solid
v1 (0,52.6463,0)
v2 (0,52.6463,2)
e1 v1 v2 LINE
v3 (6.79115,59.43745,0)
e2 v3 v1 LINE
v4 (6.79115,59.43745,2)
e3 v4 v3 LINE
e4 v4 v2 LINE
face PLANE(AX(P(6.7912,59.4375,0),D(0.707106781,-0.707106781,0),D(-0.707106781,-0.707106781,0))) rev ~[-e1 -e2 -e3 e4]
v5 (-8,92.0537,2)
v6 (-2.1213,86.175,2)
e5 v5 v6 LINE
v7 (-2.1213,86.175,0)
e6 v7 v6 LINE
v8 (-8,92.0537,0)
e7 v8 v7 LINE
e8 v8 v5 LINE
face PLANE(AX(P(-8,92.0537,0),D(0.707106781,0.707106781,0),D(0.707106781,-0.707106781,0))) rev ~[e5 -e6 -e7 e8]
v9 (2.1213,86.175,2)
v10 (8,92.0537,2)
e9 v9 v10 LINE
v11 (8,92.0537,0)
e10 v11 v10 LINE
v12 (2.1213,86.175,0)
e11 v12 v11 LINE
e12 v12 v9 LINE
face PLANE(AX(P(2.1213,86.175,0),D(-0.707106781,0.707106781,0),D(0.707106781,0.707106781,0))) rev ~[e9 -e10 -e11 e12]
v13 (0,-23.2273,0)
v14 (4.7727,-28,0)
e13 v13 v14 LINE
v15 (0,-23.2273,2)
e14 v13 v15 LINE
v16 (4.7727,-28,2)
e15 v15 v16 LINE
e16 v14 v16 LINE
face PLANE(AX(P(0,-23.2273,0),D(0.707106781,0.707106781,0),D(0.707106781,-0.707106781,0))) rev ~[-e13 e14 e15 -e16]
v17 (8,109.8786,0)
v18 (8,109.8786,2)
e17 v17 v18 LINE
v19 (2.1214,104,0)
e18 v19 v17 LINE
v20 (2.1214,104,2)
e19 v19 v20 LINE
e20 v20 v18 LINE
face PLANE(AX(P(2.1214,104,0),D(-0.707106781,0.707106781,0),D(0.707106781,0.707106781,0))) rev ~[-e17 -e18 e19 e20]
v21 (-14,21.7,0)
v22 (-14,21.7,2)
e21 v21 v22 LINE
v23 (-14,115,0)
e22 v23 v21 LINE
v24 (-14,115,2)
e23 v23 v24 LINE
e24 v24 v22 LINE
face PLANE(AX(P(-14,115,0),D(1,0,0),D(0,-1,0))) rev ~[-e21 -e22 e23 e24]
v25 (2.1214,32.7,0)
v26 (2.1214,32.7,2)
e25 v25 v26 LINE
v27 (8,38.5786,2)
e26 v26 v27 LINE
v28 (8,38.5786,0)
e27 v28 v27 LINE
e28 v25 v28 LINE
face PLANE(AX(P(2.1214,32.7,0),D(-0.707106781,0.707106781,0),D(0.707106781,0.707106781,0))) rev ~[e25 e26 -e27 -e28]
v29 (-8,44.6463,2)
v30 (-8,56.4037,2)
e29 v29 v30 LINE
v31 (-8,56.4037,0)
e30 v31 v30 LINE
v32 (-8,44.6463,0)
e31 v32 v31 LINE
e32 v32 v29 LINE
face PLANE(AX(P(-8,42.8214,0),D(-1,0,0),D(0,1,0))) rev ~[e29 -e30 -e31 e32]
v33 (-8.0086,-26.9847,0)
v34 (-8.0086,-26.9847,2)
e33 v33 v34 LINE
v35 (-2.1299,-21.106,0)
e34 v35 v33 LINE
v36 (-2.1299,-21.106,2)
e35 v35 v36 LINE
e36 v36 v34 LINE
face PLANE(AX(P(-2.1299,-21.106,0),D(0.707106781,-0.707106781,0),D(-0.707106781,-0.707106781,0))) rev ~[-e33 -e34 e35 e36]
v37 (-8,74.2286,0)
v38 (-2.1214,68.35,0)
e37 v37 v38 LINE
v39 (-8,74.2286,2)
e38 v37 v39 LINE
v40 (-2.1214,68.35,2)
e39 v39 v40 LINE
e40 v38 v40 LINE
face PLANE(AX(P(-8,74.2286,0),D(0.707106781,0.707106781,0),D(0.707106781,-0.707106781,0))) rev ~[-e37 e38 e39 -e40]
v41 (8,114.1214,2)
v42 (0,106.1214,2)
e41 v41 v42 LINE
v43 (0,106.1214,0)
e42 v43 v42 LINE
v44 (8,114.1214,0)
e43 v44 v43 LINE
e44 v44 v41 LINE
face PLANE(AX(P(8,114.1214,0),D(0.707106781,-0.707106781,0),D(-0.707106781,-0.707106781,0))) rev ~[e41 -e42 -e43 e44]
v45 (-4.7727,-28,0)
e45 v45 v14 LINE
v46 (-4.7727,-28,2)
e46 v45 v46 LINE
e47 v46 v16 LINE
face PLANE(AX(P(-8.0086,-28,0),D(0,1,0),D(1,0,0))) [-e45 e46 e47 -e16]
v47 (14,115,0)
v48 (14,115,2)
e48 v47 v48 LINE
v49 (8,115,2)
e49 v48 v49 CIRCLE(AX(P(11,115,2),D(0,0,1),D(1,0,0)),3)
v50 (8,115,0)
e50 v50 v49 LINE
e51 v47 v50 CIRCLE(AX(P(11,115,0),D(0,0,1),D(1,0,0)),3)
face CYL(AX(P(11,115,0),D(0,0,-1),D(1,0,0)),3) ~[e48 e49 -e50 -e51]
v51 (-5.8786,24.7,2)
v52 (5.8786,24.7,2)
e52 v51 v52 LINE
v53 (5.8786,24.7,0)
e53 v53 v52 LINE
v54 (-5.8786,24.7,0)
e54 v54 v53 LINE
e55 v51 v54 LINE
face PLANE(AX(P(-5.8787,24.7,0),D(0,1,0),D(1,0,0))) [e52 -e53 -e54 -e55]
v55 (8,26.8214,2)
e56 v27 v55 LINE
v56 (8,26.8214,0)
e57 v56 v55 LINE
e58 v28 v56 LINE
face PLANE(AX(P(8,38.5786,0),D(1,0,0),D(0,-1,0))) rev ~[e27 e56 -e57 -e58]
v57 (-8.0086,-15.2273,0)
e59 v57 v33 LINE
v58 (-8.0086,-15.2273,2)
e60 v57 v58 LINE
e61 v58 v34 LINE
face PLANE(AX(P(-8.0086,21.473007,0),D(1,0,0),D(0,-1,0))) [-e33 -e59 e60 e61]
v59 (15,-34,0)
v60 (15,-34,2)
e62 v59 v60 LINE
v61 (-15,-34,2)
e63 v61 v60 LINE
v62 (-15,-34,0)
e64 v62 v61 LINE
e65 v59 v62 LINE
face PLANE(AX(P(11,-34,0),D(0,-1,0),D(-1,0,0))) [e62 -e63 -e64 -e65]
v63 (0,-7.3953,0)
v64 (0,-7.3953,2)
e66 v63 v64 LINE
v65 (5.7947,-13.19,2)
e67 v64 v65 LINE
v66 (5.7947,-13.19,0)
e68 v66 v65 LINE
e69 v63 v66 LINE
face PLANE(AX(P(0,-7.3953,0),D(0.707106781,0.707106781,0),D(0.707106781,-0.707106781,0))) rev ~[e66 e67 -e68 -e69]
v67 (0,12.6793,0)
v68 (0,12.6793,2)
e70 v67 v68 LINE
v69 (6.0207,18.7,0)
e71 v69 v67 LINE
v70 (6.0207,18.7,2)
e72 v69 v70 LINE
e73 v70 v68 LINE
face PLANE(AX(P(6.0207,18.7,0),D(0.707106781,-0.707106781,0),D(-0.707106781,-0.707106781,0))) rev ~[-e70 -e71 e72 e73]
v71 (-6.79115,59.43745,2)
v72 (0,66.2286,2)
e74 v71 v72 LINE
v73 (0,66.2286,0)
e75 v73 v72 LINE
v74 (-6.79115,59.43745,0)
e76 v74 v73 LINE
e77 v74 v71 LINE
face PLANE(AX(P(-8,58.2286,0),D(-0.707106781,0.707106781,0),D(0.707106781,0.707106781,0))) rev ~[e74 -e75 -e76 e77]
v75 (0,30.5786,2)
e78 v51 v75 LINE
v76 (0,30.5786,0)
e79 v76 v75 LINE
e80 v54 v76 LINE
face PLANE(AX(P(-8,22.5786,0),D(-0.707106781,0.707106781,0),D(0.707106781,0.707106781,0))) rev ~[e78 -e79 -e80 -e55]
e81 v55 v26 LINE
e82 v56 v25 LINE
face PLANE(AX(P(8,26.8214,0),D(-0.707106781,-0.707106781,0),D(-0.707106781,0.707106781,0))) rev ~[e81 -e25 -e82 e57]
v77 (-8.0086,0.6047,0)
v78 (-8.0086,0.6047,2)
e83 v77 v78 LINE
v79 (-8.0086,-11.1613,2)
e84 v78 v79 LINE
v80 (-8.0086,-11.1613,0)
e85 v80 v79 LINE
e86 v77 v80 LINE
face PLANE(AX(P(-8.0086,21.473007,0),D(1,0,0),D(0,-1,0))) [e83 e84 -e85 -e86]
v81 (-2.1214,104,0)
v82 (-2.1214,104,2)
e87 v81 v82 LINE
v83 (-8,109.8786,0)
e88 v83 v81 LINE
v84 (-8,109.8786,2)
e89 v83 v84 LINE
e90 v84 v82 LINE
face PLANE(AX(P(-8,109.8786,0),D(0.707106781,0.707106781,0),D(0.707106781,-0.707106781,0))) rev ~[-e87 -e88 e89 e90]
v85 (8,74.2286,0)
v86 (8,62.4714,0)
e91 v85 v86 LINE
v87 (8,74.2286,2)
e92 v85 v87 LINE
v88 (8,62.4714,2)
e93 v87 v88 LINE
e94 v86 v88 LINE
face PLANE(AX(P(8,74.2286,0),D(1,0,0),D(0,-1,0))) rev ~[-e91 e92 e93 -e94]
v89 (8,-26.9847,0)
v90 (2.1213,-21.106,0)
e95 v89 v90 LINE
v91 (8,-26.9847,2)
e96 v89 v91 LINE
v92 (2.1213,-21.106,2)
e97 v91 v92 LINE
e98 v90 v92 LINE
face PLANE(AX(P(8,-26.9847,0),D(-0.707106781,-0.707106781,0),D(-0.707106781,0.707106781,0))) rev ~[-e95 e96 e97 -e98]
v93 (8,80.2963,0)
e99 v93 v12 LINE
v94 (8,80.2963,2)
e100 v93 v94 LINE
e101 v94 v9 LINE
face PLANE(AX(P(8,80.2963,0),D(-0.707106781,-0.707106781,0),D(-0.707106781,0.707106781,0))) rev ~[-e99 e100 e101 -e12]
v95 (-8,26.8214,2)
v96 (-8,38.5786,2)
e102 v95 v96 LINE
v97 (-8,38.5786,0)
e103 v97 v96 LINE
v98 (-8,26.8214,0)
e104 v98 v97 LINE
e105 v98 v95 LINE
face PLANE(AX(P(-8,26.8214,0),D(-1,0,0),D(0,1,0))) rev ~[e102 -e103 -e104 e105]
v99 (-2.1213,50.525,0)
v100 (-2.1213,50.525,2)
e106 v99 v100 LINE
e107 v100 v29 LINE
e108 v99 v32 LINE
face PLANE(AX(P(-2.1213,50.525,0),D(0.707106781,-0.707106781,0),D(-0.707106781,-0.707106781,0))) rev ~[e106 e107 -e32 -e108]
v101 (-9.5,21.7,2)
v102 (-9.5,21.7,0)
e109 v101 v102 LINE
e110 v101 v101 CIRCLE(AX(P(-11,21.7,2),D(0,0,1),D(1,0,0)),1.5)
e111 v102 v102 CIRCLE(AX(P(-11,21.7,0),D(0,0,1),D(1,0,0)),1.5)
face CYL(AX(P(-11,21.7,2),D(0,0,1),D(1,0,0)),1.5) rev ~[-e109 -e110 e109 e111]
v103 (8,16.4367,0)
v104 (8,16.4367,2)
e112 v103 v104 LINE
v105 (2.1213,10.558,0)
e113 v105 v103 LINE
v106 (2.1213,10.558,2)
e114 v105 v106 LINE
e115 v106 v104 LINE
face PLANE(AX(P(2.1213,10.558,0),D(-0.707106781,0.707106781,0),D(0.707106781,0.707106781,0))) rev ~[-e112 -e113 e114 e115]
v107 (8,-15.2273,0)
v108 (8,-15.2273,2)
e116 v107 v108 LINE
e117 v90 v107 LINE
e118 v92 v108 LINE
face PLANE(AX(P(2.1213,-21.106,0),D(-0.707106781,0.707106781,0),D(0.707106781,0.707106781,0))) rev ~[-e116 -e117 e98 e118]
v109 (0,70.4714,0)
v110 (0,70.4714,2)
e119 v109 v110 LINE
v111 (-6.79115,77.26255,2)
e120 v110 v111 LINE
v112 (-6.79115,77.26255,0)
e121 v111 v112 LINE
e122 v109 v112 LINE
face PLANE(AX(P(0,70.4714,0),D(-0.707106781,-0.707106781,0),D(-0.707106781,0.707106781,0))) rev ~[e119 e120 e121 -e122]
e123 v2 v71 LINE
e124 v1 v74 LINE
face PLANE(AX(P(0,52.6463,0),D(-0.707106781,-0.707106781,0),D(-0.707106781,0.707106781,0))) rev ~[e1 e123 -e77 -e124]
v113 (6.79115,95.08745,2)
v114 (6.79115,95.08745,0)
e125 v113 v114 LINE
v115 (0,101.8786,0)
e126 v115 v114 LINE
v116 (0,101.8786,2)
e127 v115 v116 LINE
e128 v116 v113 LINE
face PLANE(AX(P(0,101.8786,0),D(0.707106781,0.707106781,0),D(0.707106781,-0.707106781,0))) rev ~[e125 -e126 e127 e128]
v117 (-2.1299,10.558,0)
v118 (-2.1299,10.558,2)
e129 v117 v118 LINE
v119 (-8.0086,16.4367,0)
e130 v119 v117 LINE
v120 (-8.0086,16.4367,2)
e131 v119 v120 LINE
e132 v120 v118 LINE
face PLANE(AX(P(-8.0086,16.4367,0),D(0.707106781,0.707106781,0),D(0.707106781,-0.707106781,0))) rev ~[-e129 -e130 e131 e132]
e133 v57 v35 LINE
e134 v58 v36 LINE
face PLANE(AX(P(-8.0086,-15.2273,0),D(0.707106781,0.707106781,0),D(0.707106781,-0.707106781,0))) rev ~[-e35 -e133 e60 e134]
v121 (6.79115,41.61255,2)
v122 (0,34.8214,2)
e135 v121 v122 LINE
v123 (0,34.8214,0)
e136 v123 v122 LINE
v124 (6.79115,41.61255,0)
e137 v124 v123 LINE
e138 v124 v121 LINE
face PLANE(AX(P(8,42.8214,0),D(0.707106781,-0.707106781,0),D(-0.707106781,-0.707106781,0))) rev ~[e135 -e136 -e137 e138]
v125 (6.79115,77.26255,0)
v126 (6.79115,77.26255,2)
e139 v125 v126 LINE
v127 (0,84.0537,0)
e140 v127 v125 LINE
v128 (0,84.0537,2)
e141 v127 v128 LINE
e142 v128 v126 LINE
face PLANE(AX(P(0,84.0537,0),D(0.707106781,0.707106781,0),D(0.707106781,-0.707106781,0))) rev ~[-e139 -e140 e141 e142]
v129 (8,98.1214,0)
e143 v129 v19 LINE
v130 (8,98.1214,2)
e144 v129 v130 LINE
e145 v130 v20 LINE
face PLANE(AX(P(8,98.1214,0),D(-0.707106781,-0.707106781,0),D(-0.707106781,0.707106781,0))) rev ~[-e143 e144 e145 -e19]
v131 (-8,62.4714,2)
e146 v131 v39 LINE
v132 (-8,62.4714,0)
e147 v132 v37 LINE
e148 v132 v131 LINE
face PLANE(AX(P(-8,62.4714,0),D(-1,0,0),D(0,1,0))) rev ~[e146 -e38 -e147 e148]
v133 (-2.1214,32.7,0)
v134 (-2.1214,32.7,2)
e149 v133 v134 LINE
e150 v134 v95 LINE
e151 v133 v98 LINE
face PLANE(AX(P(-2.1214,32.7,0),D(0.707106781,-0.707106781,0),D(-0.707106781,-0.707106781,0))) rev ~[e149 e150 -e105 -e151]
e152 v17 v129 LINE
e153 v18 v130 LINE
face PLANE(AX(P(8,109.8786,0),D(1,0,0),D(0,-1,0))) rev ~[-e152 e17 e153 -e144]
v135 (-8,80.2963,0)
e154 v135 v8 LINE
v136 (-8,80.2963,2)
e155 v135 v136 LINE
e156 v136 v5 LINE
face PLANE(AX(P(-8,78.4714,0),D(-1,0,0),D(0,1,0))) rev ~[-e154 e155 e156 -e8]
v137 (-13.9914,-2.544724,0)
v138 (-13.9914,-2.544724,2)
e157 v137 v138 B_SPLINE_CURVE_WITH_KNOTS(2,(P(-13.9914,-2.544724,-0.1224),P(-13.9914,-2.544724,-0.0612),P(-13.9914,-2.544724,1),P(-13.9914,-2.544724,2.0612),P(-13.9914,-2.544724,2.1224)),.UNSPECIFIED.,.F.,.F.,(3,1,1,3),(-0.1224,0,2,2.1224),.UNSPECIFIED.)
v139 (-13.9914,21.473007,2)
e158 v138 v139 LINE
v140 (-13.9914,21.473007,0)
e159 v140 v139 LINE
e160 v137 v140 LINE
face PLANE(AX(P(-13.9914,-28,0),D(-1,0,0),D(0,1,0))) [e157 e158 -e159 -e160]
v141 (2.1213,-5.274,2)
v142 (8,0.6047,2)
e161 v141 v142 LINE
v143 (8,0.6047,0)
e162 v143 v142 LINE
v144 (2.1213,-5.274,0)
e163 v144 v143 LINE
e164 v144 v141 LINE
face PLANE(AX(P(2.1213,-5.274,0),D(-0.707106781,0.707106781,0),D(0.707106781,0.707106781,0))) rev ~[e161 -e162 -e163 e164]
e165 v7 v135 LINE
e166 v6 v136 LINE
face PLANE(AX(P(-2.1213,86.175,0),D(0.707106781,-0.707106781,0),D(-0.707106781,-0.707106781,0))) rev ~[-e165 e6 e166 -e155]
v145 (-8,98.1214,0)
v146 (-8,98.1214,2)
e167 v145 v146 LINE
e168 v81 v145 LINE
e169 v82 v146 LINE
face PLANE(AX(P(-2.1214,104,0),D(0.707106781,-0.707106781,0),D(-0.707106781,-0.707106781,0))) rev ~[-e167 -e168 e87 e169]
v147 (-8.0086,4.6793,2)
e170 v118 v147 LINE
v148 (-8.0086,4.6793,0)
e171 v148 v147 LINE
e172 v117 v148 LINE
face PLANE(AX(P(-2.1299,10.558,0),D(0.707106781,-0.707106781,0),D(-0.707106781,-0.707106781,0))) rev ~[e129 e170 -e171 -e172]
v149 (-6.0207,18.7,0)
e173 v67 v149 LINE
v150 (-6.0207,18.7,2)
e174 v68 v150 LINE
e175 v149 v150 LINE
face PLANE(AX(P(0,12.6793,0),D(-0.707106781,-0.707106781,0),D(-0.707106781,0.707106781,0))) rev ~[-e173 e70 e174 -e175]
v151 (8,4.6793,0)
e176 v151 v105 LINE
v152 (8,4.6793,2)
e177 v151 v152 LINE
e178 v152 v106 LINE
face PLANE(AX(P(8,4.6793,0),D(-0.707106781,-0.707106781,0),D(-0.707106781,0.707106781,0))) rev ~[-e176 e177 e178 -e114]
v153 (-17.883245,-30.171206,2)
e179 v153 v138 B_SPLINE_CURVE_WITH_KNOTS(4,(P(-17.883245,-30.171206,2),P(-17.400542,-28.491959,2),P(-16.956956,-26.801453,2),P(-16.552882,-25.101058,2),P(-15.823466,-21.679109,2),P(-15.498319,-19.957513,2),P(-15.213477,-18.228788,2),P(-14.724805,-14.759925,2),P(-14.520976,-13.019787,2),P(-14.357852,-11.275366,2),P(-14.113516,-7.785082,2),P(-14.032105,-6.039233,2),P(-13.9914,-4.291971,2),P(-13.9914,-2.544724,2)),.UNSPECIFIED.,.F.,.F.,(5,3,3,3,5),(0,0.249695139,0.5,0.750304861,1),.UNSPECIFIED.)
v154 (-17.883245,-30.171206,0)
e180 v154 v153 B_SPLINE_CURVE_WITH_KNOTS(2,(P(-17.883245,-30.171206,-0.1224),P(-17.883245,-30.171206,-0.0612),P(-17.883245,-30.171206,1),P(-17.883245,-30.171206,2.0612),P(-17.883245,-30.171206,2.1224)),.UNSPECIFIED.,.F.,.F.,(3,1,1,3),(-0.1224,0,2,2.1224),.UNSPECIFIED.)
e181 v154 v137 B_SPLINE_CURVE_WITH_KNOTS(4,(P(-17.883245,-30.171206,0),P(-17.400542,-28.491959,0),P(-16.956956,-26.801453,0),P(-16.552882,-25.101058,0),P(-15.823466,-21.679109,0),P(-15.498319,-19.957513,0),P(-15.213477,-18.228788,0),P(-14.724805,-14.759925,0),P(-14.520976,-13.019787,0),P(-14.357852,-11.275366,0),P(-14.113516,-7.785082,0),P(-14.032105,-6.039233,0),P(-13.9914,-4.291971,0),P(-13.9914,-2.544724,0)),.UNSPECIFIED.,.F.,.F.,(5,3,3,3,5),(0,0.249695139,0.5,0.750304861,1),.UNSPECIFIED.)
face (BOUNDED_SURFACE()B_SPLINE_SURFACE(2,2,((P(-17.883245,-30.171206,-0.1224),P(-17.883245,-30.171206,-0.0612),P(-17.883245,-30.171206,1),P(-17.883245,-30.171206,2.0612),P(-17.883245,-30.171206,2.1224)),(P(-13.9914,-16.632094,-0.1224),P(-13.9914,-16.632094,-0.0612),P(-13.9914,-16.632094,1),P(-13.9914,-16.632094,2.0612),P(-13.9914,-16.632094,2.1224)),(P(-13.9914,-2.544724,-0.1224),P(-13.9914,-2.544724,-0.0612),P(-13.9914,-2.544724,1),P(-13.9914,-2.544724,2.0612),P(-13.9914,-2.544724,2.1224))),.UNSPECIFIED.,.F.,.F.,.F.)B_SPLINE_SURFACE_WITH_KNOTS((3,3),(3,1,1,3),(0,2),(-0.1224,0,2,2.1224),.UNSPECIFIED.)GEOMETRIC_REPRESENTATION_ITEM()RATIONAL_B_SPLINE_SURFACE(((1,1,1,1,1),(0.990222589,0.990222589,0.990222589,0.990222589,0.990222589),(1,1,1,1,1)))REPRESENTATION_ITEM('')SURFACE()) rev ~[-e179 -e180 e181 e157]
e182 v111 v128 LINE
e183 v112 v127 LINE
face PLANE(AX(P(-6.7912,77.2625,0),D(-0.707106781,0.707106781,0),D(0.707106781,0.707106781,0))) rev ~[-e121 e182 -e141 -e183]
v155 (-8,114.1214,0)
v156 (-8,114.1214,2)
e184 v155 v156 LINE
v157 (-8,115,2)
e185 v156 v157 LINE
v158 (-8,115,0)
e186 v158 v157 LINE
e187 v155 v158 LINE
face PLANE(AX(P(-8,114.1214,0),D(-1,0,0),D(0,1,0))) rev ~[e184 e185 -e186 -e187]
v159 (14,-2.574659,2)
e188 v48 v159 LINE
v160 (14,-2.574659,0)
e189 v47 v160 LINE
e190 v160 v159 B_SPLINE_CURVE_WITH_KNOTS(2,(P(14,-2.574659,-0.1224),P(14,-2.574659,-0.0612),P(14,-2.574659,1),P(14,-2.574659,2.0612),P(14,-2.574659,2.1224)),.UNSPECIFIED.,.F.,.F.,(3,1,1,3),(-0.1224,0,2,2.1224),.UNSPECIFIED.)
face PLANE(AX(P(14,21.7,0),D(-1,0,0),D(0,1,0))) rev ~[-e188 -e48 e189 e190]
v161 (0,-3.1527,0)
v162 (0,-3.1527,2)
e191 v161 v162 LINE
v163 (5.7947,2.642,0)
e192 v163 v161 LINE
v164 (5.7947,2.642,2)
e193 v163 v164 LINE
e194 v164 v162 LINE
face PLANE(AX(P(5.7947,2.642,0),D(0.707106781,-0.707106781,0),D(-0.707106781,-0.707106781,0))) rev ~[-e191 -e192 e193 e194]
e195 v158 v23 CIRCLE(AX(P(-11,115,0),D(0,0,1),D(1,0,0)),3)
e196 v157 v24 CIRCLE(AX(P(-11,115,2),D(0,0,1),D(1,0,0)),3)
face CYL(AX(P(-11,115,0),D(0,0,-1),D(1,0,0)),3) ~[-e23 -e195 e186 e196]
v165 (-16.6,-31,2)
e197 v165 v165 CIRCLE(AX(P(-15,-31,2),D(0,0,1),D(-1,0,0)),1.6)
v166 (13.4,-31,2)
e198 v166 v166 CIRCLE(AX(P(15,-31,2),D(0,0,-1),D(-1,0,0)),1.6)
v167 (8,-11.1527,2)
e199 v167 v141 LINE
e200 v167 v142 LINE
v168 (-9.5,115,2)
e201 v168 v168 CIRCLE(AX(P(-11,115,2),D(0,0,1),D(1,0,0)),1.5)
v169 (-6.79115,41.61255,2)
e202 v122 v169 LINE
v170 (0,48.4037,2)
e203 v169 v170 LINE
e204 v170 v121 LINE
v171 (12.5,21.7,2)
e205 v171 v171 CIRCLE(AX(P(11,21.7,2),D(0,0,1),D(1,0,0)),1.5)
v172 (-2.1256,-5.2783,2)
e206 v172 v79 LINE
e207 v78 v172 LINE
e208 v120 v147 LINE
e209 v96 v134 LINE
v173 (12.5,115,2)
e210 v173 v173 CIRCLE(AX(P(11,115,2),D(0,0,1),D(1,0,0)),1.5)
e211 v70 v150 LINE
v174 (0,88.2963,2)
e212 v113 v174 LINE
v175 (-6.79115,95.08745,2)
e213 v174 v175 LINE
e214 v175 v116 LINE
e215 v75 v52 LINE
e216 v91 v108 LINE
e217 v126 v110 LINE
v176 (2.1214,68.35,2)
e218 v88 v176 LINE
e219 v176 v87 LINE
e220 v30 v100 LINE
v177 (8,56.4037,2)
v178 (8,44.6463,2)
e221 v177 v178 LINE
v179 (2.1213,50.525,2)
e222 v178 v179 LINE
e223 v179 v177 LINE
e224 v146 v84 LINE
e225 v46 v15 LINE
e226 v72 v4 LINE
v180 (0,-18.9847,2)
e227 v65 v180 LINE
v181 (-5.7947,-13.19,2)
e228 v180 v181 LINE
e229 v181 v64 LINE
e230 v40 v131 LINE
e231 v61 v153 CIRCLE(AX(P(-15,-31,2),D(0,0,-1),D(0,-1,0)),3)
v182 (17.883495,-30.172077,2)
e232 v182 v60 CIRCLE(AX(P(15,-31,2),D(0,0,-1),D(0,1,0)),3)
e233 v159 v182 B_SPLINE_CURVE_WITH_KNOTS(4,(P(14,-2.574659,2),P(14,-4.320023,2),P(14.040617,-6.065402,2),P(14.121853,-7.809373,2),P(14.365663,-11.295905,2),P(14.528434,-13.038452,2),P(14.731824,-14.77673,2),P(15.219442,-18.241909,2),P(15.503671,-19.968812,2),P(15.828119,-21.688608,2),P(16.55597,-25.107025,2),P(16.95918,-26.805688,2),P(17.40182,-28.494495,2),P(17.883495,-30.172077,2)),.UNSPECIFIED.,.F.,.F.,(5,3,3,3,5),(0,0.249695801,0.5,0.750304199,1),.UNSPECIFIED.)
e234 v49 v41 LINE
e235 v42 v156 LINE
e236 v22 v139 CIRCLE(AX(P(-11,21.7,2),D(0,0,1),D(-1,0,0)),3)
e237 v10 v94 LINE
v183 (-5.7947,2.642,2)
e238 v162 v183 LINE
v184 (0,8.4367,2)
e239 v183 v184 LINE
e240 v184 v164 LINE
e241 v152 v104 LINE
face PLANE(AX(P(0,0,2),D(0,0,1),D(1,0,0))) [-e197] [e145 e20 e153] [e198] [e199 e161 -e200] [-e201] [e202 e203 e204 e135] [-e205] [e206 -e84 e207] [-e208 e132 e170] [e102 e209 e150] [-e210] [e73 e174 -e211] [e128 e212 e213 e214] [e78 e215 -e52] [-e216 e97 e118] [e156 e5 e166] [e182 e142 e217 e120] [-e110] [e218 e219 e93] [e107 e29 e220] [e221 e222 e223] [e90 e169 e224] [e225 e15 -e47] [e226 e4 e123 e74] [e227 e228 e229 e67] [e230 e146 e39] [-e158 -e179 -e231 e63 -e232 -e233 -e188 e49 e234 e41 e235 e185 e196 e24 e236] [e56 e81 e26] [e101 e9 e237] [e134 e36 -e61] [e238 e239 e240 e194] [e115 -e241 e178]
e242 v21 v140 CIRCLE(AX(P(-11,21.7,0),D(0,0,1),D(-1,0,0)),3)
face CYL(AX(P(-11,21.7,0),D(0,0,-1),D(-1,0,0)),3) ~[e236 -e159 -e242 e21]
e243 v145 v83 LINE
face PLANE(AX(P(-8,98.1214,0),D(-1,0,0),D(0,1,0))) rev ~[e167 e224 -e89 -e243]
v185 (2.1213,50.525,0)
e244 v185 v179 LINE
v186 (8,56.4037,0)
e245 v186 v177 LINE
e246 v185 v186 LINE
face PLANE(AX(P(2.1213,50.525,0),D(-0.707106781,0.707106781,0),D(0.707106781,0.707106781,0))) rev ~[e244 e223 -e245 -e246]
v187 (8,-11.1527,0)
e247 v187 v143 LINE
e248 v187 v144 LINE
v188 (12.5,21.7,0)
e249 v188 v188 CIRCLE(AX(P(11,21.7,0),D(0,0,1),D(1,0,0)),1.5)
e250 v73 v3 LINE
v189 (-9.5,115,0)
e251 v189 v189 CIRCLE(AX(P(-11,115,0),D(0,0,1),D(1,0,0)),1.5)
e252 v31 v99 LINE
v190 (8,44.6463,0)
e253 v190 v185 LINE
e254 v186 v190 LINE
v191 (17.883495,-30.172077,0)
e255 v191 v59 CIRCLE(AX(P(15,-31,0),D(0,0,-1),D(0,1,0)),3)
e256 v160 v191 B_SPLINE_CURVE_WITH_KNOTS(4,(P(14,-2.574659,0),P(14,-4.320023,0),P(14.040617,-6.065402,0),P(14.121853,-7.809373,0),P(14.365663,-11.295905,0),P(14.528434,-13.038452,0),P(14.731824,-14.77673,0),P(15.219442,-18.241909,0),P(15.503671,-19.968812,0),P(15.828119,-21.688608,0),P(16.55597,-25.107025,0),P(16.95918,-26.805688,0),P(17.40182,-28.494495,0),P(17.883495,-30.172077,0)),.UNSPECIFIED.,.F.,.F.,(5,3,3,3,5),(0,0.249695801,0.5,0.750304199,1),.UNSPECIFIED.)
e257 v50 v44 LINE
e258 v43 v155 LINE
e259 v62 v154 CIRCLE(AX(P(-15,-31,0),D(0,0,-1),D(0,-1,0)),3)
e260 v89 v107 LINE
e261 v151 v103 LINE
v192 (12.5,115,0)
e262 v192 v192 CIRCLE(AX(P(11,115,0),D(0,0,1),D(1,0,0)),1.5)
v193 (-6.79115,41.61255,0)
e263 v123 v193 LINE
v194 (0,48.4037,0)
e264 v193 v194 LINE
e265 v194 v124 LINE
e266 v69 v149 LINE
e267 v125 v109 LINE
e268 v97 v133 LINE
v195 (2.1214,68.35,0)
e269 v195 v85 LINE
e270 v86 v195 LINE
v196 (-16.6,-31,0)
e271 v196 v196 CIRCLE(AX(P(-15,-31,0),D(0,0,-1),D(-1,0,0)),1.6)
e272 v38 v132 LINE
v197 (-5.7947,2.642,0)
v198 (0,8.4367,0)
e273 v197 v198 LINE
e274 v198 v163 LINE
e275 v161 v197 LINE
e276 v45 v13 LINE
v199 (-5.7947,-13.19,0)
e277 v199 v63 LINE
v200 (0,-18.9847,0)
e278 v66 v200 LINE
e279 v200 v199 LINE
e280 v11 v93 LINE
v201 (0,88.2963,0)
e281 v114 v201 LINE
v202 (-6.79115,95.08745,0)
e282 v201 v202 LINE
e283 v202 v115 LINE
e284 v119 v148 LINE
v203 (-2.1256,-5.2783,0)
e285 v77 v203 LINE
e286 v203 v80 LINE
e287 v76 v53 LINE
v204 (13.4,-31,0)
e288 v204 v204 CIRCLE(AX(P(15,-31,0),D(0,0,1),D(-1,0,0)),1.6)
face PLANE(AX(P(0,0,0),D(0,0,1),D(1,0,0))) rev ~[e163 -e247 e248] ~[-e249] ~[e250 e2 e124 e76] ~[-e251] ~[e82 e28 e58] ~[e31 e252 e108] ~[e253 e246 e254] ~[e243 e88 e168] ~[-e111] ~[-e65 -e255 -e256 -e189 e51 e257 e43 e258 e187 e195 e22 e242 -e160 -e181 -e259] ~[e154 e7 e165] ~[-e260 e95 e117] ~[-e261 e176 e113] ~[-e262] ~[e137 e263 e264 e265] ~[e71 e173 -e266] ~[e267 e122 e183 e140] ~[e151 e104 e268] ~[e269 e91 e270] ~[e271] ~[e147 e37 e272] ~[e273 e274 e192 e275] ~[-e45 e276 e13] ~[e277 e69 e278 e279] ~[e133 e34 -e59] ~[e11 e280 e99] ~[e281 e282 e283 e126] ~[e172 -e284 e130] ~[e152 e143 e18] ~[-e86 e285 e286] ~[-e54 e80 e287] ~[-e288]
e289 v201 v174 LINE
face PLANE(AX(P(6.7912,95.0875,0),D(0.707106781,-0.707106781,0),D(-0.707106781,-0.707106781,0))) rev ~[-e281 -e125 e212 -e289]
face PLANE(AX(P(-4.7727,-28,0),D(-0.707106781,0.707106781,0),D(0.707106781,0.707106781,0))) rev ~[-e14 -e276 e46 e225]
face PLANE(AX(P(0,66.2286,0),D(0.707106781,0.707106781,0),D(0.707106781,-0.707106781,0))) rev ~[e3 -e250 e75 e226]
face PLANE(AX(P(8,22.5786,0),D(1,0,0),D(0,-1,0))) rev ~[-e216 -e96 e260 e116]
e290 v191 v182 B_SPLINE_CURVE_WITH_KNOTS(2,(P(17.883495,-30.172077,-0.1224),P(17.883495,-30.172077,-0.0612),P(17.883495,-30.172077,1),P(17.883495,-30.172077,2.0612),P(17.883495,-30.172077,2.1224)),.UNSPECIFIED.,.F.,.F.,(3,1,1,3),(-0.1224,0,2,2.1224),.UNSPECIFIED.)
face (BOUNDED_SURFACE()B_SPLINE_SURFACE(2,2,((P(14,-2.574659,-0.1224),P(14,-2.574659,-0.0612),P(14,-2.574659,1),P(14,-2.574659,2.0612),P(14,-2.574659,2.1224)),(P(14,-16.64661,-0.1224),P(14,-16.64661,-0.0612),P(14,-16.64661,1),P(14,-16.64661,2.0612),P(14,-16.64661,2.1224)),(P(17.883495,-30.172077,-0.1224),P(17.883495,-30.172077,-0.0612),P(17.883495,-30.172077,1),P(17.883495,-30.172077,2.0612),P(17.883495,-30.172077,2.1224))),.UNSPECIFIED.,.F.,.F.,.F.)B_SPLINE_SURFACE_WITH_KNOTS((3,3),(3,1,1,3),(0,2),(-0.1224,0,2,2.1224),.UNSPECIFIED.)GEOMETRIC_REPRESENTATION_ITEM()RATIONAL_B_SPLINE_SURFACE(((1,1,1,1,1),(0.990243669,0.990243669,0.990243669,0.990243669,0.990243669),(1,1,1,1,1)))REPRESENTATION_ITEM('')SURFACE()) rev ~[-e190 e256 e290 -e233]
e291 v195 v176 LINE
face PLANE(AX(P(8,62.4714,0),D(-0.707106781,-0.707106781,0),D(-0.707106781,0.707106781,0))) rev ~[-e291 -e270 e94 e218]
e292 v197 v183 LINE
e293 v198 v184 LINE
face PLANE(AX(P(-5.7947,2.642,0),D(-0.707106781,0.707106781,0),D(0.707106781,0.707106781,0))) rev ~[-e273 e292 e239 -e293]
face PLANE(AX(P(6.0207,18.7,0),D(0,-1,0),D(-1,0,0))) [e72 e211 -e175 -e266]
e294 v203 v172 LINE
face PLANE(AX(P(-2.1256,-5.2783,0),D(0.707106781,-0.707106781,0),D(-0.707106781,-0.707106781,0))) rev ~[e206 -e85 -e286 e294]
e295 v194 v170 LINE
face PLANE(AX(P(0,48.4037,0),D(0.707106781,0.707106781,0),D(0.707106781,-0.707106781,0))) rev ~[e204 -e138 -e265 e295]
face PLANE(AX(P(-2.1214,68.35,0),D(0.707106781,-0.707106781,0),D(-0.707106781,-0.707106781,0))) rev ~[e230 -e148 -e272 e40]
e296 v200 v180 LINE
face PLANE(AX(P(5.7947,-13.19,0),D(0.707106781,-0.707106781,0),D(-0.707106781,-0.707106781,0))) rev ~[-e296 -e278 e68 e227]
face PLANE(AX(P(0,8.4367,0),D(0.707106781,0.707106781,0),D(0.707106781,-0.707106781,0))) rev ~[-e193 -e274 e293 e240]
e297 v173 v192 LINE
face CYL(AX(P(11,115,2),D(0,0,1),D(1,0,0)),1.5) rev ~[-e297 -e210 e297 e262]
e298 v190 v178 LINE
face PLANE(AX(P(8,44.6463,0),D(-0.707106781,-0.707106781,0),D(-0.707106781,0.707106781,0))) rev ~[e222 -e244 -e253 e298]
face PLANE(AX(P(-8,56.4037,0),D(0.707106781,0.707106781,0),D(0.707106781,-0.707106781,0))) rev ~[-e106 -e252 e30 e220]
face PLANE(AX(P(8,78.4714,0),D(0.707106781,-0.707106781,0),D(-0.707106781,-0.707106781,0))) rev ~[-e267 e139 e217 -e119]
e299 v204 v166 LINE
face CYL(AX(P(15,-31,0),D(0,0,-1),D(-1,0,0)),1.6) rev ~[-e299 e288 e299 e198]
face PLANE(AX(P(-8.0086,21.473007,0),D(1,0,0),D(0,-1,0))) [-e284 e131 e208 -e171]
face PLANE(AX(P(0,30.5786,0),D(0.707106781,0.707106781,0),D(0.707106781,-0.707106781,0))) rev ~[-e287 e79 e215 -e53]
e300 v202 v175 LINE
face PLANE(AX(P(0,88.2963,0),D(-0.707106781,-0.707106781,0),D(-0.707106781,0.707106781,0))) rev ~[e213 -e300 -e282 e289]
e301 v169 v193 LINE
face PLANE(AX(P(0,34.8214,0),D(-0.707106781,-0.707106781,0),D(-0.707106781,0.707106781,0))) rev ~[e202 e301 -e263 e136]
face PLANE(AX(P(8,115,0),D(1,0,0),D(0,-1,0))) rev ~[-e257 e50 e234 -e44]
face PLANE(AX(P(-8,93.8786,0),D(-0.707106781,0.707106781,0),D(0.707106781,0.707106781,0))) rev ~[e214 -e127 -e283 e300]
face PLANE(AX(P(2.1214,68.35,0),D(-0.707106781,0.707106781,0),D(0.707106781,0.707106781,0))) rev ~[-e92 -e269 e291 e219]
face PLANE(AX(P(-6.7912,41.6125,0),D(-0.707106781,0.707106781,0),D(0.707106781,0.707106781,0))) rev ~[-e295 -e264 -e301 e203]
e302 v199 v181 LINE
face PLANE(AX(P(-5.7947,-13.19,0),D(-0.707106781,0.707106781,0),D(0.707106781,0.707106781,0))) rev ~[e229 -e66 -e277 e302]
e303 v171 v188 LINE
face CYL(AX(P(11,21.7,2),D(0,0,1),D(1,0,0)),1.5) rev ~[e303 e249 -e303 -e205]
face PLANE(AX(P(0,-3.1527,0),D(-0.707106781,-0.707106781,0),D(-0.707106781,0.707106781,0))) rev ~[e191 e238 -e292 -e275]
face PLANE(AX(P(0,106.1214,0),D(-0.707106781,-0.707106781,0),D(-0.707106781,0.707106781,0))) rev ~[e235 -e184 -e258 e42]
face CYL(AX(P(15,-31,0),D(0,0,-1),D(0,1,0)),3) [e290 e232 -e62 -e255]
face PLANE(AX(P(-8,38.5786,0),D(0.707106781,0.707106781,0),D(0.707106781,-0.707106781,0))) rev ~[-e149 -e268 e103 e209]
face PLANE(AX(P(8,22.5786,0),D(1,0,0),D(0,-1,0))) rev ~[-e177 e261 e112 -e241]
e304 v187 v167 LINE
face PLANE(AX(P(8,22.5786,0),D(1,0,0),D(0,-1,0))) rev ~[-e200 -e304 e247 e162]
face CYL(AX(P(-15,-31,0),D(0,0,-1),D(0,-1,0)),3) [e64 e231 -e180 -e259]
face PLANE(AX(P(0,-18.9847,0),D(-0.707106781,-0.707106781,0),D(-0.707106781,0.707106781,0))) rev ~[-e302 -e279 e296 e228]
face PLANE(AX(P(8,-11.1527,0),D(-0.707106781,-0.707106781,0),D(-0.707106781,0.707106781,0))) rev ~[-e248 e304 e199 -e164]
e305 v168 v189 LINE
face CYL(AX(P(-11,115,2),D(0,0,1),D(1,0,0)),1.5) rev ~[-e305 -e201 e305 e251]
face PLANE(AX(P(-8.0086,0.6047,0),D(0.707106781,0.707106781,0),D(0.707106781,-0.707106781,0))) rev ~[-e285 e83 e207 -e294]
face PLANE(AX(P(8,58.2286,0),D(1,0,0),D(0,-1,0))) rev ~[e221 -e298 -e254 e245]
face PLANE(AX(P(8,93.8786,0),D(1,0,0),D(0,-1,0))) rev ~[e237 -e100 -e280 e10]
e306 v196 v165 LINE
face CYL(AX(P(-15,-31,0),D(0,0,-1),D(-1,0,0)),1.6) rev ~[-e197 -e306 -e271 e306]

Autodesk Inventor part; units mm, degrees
ref_plane "YZ Plane" through (0, 0, 0) normal (1, 0, 0) x (0, 1, 0)
ref_plane "XZ Plane" through (0, 0, 0) normal (0, 1, 0) x (-1, 0, 0)
ref_plane "XY Plane" through (0, 0, 0) normal (0, 0, 1) x (1, 0, 0)
sketch "Szkic1" plane through (0, 0, 0) normal (0, 0, 1) x (1, 0, 0)
  circle A0 centre (11, 115) radius 1.55 projected
  circle A1 centre (-11, 115) radius 1.55 projected
  circle A2 centre (11, 21.7) radius 1.55 projected
  circle A3 centre (-11, 21.7) radius 1.55 projected
  line L0 (11, 115) -> (11, 21.7) construction
  line L1 (8, 115) -> (8, 21.7)
  line L2 (14, 21.7) -> (14, 115)
  arc A4 (14, 115) -> (8, 115) centre (11, 115) ccw
  arc A5 (8, 21.7) -> (14, 21.7) centre (11, 21.7) ccw
  line L3 (-11, 115) -> (-11, 21.7) construction
  line L4 (-14, 115) -> (-14, 21.7)
  line L5 (-8, 21.7) -> (-8, 115)
  arc A6 (-8, 115) -> (-14, 115) centre (-11, 115) ccw
  arc A7 (-14, 21.7) -> (-8, 21.7) centre (-11, 21.7) ccw
  line L6 (11, 115) -> (-11, 93)
  line L7 (-11, 21.7) -> (11, 43.7)
  line L8 (-11, 21.7) -> (11, 43.7) construction
  line L9 (-9.9393, 20.6393) -> (12.0607, 42.6393)
  line L10 (9.9393, 44.7607) -> (-12.0607, 22.7607)
  arc A8 (-12.0607, 22.7607) -> (-9.9393, 20.6393) centre (-11, 21.7) ccw
  arc A9 (12.0607, 42.6393) -> (9.9393, 44.7607) centre (11, 43.7) ccw
  line L11 (11, 115) -> (-11, 93) construction
  line L12 (9.9393, 116.0607) -> (-12.0607, 94.0607)
  line L13 (-9.9393, 91.9393) -> (12.0607, 113.9393)
  arc A10 (12.0607, 113.9393) -> (9.9393, 116.0607) centre (11, 115) ccw
  arc A11 (-12.0607, 94.0607) -> (-9.9393, 91.9393) centre (-11, 93) ccw
  line L14 (0, 68.35) -> (-11, 57.35)
  line L15 (0, 68.35) -> (11.1005, 79.4505)
  line L16 (-11, 79.35) -> (11, 57.35)
  line L17 (11, 79.35) -> (-11, 57.35) construction
  line L18 (-11, 79.35) -> (11, 57.35) construction
  line L19 (-11, 115) -> (11, 93) construction
  line L20 (-12.0607, 113.9393) -> (9.9393, 91.9393)
  line L21 (12.0607, 94.0607) -> (-9.9393, 116.0607)
  arc A12 (-9.9393, 116.0607) -> (-12.0607, 113.9393) centre (-11, 115) ccw
  arc A13 (9.9393, 91.9393) -> (12.0607, 94.0607) centre (11, 93) ccw
  line L22 (11, 21.7) -> (-11, 43.7) construction
  line L23 (12.0607, 22.7607) -> (-9.9393, 44.7607)
  line L24 (-12.0607, 42.6393) -> (9.9393, 20.6393)
  arc A14 (9.9393, 20.6393) -> (12.0607, 22.7607) centre (11, 21.7) ccw
  arc A15 (-9.9393, 44.7607) -> (-12.0607, 42.6393) centre (-11, 43.7) ccw
  line L25 (11, 79.35) -> (-11, 57.35) construction
  line L26 (9.9393, 80.4107) -> (-12.0607, 58.4107)
  line L27 (-9.9393, 56.2893) -> (12.0607, 78.2893)
  arc A16 (12.0607, 78.2893) -> (9.9393, 80.4107) centre (11, 79.35) ccw
  arc A17 (-12.0607, 58.4107) -> (-9.9393, 56.2893) centre (-11, 57.35) ccw
  line L28 (-11, 79.35) -> (11, 57.35) construction
  line L29 (-12.0607, 78.2893) -> (9.9393, 56.2893)
  line L30 (12.0607, 58.4107) -> (-9.9393, 80.4107)
  arc A18 (-9.9393, 80.4107) -> (-12.0607, 78.2893) centre (-11, 79.35) ccw
  arc A19 (9.9393, 56.2893) -> (12.0607, 58.4107) centre (11, 57.35) ccw
  point P0 (0, 0)
  point P1 (11, 68.35)
  point P2 (-11, 68.35)
  point P3 (0, 32.7)
  point P4 (0, 104)
  point P5 (0, 104)
  point P6 (0, 32.7)
  point P7 (0, 68.35)
  point P8 (0, 68.35)
  point P9 (-8, 93.8787)
  point P10 (-8, 98.1213)
  point P11 (8, 42.8213)
  point P12 (8, 38.5787)
  point P13 (-8, 26.8213)
  point P14 (8, 109.8787)
  point P15 (-8.8787, 19.5787)
  point P16 (8.8787, 117.1213)
  point P17 (0, 104)
  point P18 (0, 32.7)
  point P19 (0, 68.35)
  point P20 (0, 68.35)
  point P21 (-8, 22.5787)
  point P22 (8, 114.1213)
  point P23 (0, 30.5787)
  point P24 (8, 22.5787)
  point P25 (0, 106.1213)
  point P26 (-8, 114.1213)
  point P27 (8, 98.1213)
  point P28 (2.1213, 104)
  point P29 (-8, 109.8787)
  point P30 (-2.1213, 104)
  point P31 (-2.1213, 68.35)
  point P32 (-8, 62.4713)
  point P33 (-8, 74.2287)
  point P34 (2.1213, 68.35)
  point P35 (8, 74.2287)
  point P36 (8, 62.4713)
  point P37 (0, 34.8213)
  point P38 (-8, 42.8213)
  point P39 (-8, 58.2287)
  point P40 (0, 66.2287)
  point P41 (8, 58.2287)
  point P42 (8, 26.8213)
  point P43 (2.1213, 32.7)
  point P44 (0, 101.8787)
  point P45 (8, 93.8787)
  point P46 (8, 78.4713)
  point P47 (0, 70.4713)
  point P48 (-8, 78.4713)
  point P49 (-8, 38.5787)
  point P50 (-2.1213, 32.7)
  dimension "d1" = 6
  dimension "d2" = 45
  dimension "d3" = 45
  dimension "d4" = 45
  dimension "d5" = 45
  dimension "d8" = 3
  dimension "d9" = 3
  dimension "d10" = 3
  dimension "d11" = 3
  dimension "d13" = 3
  dimension "d14" = 3
extrude "Wyciągnięcie proste2" add sketch "Szkic1" along normal blind 2 contours A0 L13 A10 L12 | A0 L12 L1 A4 L2 A5 L24 A2 L23 L9 A9 L10 L29 A19 L30 L27 A16 L26 L20 A13 L21 L13 | L12 A10 L13 A0 | A0 L6 L1 L12 | L13 L1 L6 A0 | L1 L6 L21 L12 | L13 L21 L6 L1 | L21 L6 L20 L12 | L12 L20 L5 L21 | L21 A13 L20 L1 | L1 L20 L13 L21 | L13 L20 L6 L21 | L20 L6 L5 L12 | L21 A1 L20 L5 L12 A11 L13 L30 A18 L29 L26 A17 L27 L23 A15 L24 L10 A3 L9 A7 L4 A6 | L5 L20 A1 L21 | L13 L5 L6 L20 | L5 L13 A11 L12 | L21 A12 L20 A1 | A1 L20 A12 L21 | L26 A16 L27 L1 | L1 L15 L30 L26 | L1 L27 L30 L15 | L30 L15 L16 L26 | L26 L16 L5 L30 | L5 L29 A18 L30 | L24 L9 L23 L1 | L1 L23 A2 L24 | L30 L27 L16 L15 | L26 L29 L5 L16 | L16 L14 L29 L26 | L24 L7 L23 L9 | L9 L5 L7 L24 | L24 A14 L23 A2 | A2 L23 A14 L24 | L30 A19 L29 L1 | L1 L16 L27 L30 | L16 L27 L29 L14 | L29 L14 L5 L26 | L9 L23 L7 L1 | L1 L10 A9 L9 | L9 A3 L7 L5 | L24 L10 L23 L7 | L7 L5 L10 L24 | L1 L29 L27 L16 | L29 L27 L5 L14 | L5 L27 A17 L26 | L7 L23 L10 L1 | L7 A3 L10 L5 | L9 A8 L10 A3 | A3 L10 A8 L9 | L24 L5 L23 L10 | L24 A15 L23 L5
sketch "Szkic2" plane through (0, 0, 2) normal (0, 0, 1) x (1, 0, 0)
  line L0 (0, 30.5787) -> (8, 22.5787) projected
  line L1 (8, 22.5787) -> (8, 21.7) projected
  arc A0 (8, 21.7) -> (14, 21.7) centre (11, 21.7) ccw projected
  line L2 (14, 21.7) -> (14, 115) projected
  arc A1 (14, 115) -> (8, 115) centre (11, 115) ccw projected
  line L3 (8, 115) -> (8, 114.1213) projected
  line L4 (8, 114.1213) -> (0, 106.1213) projected
  line L5 (0, 106.1213) -> (-8, 114.1213) projected
  line L6 (-8, 114.1213) -> (-8, 115) projected
  arc A2 (-8, 115) -> (-14, 115) centre (-11, 115) ccw projected
  line L7 (-14, 115) -> (-14, 21.7) projected
  arc A3 (-14, 21.7) -> (-8, 21.7) centre (-11, 21.7) ccw projected
  line L8 (-8, 21.7) -> (-8, 22.5787) projected
  line L9 (-8, 22.5787) -> (0, 30.5787) projected
  line L10 (8, 109.8787) -> (8, 98.1213) projected
  line L11 (8, 98.1213) -> (2.1213, 104) projected
  line L12 (2.1213, 104) -> (8, 109.8787) projected
  line L13 (-8, 109.8787) -> (-2.1213, 104) projected
  line L14 (-2.1213, 104) -> (-8, 98.1213) projected
  line L15 (-8, 98.1213) -> (-8, 109.8787) projected
  line L16 (-2.1213, 68.35) -> (-8, 62.4713) projected
  line L17 (-8, 62.4713) -> (-8, 74.2287) projected
  line L18 (-8, 74.2287) -> (-2.1213, 68.35) projected
  line L19 (2.1213, 68.35) -> (8, 74.2287) projected
  line L20 (8, 74.2287) -> (8, 62.4713) projected
  line L21 (8, 62.4713) -> (2.1213, 68.35) projected
  line L22 (0, 34.8213) -> (-8, 42.8213) projected
  line L23 (-8, 42.8213) -> (-8, 58.2287) projected
  line L24 (-8, 58.2287) -> (0, 66.2287) projected
  line L25 (0, 66.2287) -> (8, 58.2287) projected
  line L26 (8, 58.2287) -> (8, 42.8213) projected
  line L27 (8, 42.8213) -> (0, 34.8213) projected
  line L28 (8, 26.8213) -> (2.1213, 32.7) projected
  line L29 (2.1213, 32.7) -> (8, 38.5787) projected
  line L30 (8, 38.5787) -> (8, 26.8213) projected
  line L31 (0, 101.8787) -> (8, 93.8787) projected
  line L32 (8, 93.8787) -> (8, 78.4713) projected
  line L33 (8, 78.4713) -> (0, 70.4713) projected
  line L34 (0, 70.4713) -> (-8, 78.4713) projected
  line L35 (-8, 78.4713) -> (-8, 93.8787) projected
  line L36 (-8, 93.8787) -> (0, 101.8787) projected
  line L37 (-8, 26.8213) -> (-8, 38.5787) projected
  line L38 (-8, 38.5787) -> (-2.1213, 32.7) projected
  line L39 (-2.1213, 32.7) -> (-8, 26.8213) projected
  circle A4 centre (11, 115) radius 1.5
  circle A5 centre (-11, 115) radius 1.5
  circle A6 centre (11, 21.7) radius 1.5
  circle A7 centre (-11, 21.7) radius 1.5
  point P0 (0, 0)
  dimension "d17" = 3
  dimension "d18" = 3
  dimension "d19" = 3
  dimension "d20" = 3
extrude "Wyciągnięcie proste3" cut sketch "Szkic2" against normal blind 2 contours A4 | A5 | A6 | A7
sketch "Szkic3" plane through (0, 0, 0) normal (0, 0, -1) x (-1, 0, 0)
  circle A0 centre (15, -31) radius 1.6 projected
  circle A1 centre (-15, -31) radius 1.6 projected
  circle A2 centre (-11, 21.7) radius 1.5 projected
  circle A3 centre (11, 21.7) radius 1.5 projected
  circle A4 centre (11, 115) radius 1.5 projected
  circle A5 centre (11, 21.7) radius 1.5 projected
  circle A6 centre (-11, 115) radius 1.5 projected
  circle A7 centre (-11, 21.7) radius 1.5 projected
  line L0 (0, 30.5787) -> (-8, 22.5787) projected
  line L1 (8, 22.5787) -> (0, 30.5787) projected
  line L2 (8, 21.7) -> (8, 22.5787) projected
  arc A8 (8, 21.7) -> (14, 21.7) centre (11, 21.7) ccw projected
  line L3 (14, 115) -> (14, 21.7) projected
  arc A9 (14, 115) -> (8, 115) centre (11, 115) ccw projected
  line L4 (8, 114.1213) -> (8, 115) projected
  line L5 (0, 106.1213) -> (8, 114.1213) projected
  line L6 (-8, 114.1213) -> (0, 106.1213) projected
  line L7 (-8, 115) -> (-8, 114.1213) projected
  arc A10 (-8, 115) -> (-14, 115) centre (-11, 115) ccw projected
  line L8 (-14, 21.7) -> (-14, 115) projected
  arc A11 (-14, 21.7) -> (-8, 21.7) centre (-11, 21.7) ccw projected
  line L9 (-8, 22.5787) -> (-8, 21.7) projected
  line L10 (-8, 109.8787) -> (-8, 98.1213) projected
  line L11 (-2.1213, 104) -> (-8, 109.8787) projected
  line L12 (-8, 98.1213) -> (-2.1213, 104) projected
  line L13 (8, 109.8787) -> (2.1213, 104) projected
  line L14 (8, 98.1213) -> (8, 109.8787) projected
  line L15 (2.1213, 104) -> (8, 98.1213) projected
  line L16 (2.1213, 68.35) -> (8, 62.4713) projected
  line L17 (8, 74.2287) -> (2.1213, 68.35) projected
  line L18 (8, 62.4713) -> (8, 74.2287) projected
  line L19 (-2.1213, 68.35) -> (-8, 74.2287) projected
  line L20 (-8, 62.4713) -> (-2.1213, 68.35) projected
  line L21 (-8, 74.2287) -> (-8, 62.4713) projected
  line L22 (0, 34.8213) -> (8, 42.8213) projected
  line L23 (-8, 42.8213) -> (0, 34.8213) projected
  line L24 (-8, 58.2287) -> (-8, 42.8213) projected
  line L25 (0, 66.2287) -> (-8, 58.2287) projected
  line L26 (8, 58.2287) -> (0, 66.2287) projected
  line L27 (8, 42.8213) -> (8, 58.2287) projected
  line L28 (-8, 26.8213) -> (-2.1213, 32.7) projected
  line L29 (-8, 38.5787) -> (-8, 26.8213) projected
  line L30 (-2.1213, 32.7) -> (-8, 38.5787) projected
  line L31 (0, 101.8787) -> (-8, 93.8787) projected
  line L32 (8, 93.8787) -> (0, 101.8787) projected
  line L33 (8, 78.4713) -> (8, 93.8787) projected
  line L34 (0, 70.4713) -> (8, 78.4713) projected
  line L35 (-8, 78.4713) -> (0, 70.4713) projected
  line L36 (-8, 93.8787) -> (-8, 78.4713) projected
  line L37 (8, 26.8213) -> (8, 38.5787) projected
  line L38 (2.1213, 32.7) -> (8, 26.8213) projected
  line L39 (8, 38.5787) -> (2.1213, 32.7) projected
  circle A12 centre (11, 21.7) radius 1.5 projected
  arc A13 (13.9828, 21.9264) -> (8.0172, 21.4736) centre (11, 21.7) ccw
  circle A14 centre (-11, 21.7) radius 1.5 projected
  arc A15 (-8.0172, 21.4736) -> (-13.9828, 21.9264) centre (-11, 21.7) ccw
  line L40 (-11, 21.7) -> (-11, -31) construction
  line L41 (-8, 21.7) -> (-8, -31)
  line L42 (-14, -31) -> (-14, 21.7)
  arc A16 (-8, 21.7) -> (-14, 21.7) centre (-11, 21.7) ccw
  arc A17 (-14, -31) -> (-8, -31) centre (-11, -31) ccw
  line L43 (11, 21.7) -> (11, -31) construction
  line L44 (8.0086, 21.7) -> (8.0086, -31)
  line L45 (13.9914, -31) -> (13.9914, 21.7)
  arc A18 (13.9914, 21.7) -> (8.0086, 21.7) centre (11, 21.7) ccw
  arc A19 (8.0086, -31) -> (13.9914, -31) centre (11, -31) ccw
  line L46 (15, -31) -> (-15, -31) construction
  line L47 (15, -28) -> (-15, -28)
  line L48 (-15, -34) -> (15, -34)
  arc A20 (15, -34) -> (15, -28) centre (15, -31) ccw
  arc A21 (-15, -28) -> (-15, -34) centre (-15, -31) ccw
  point P0 (0, 0)
  point P1 (13, -4.65)
  point P2 (-13, -4.65)
  point P3 (0, -31)
  point P4 (-11, -4.65)
  point P5 (11, -4.65)
  point P6 (0, -31)
  point P7 (13.9914, -28)
  point P8 (13.9914, 21.4729)
  point P9 (8.0086, 21.4729)
  point P10 (8.0086, -28)
  point P11 (-8, -28)
  point P12 (-14, -28)
extrude "Wyciągnięcie proste4" add sketch "Szkic3" against normal up to surface (2 mm away) contours A0 L45 L47 A20 L48 A17 L41 L44 A19 | A0 A19 L44 L47 L45 | L47 L44 A8 L45 | L47 L42 A11 L41 | L41 A17 A1 L42 L47 | L48 A21 L47 L42 A1 A17
sketch "Szkic4" plane through (0, 0, 0) normal (0, 0, -1) x (-1, 0, 0)
  arc A0 (13.9914, 21.4729) -> (14, 21.7) centre (11, 21.7) ccw projected
  line L0 (14, 115) -> (14, 21.7) projected
  arc A1 (14, 115) -> (8, 115) centre (11, 115) ccw projected
  line L1 (8, 114.1213) -> (8, 115) projected
  line L2 (0, 106.1213) -> (8, 114.1213) projected
  line L3 (-8, 114.1213) -> (0, 106.1213) projected
  line L4 (-8, 115) -> (-8, 114.1213) projected
  arc A2 (-8, 115) -> (-14, 115) centre (-11, 115) ccw projected
  line L5 (-14, 115) -> (-14, -28) projected
  line L6 (-14, -28) -> (-15, -28) projected
  arc A3 (-15, -28) -> (-15, -34) centre (-15, -31) ccw projected
  line L7 (-15, -34) -> (15, -34) projected
  arc A4 (15, -34) -> (15, -28) centre (15, -31) ccw projected
  line L8 (15, -28) -> (13.9914, -28) projected
  line L9 (13.9914, -28) -> (13.9914, 21.4729) projected
  circle A5 centre (-15, -31) radius 1.6 projected
  circle A6 centre (15, -31) radius 1.6 projected
  circle A7 centre (11, 115) radius 1.5 projected
  circle A8 centre (11, 21.7) radius 1.5 projected
  circle A9 centre (-11, 115) radius 1.5 projected
  circle A10 centre (-11, 21.7) radius 1.5 projected
  line L10 (8.0086, 21.4729) -> (8.0086, -28) projected
  line L11 (8.0086, -28) -> (-8, -28) projected
  line L12 (-8, 22.5787) -> (-8, -28) projected
  line L13 (0, 30.5787) -> (-8, 22.5787) projected
  line L14 (8, 22.5787) -> (0, 30.5787) projected
  line L15 (8, 21.7) -> (8, 22.5787) projected
  arc A11 (8, 21.7) -> (8.0086, 21.4729) centre (11, 21.7) ccw projected
  line L16 (-8, 109.8787) -> (-8, 98.1213) projected
  line L17 (-2.1213, 104) -> (-8, 109.8787) projected
  line L18 (-8, 98.1213) -> (-2.1213, 104) projected
  line L19 (8, 109.8787) -> (2.1213, 104) projected
  line L20 (8, 98.1213) -> (8, 109.8787) projected
  line L21 (2.1213, 104) -> (8, 98.1213) projected
  line L22 (2.1213, 68.35) -> (8, 62.4713) projected
  line L23 (8, 74.2287) -> (2.1213, 68.35) projected
  line L24 (8, 62.4713) -> (8, 74.2287) projected
  line L25 (-2.1213, 68.35) -> (-8, 74.2287) projected
  line L26 (-8, 62.4713) -> (-2.1213, 68.35) projected
  line L27 (-8, 74.2287) -> (-8, 62.4713) projected
  line L28 (0, 34.8213) -> (8, 42.8213) projected
  line L29 (-8, 42.8213) -> (0, 34.8213) projected
  line L30 (-8, 58.2287) -> (-8, 42.8213) projected
  line L31 (0, 66.2287) -> (-8, 58.2287) projected
  line L32 (8, 58.2287) -> (0, 66.2287) projected
  line L33 (8, 42.8213) -> (8, 58.2287) projected
  line L34 (-8, 26.8213) -> (-2.1213, 32.7) projected
  line L35 (-8, 38.5787) -> (-8, 26.8213) projected
  line L36 (-2.1213, 32.7) -> (-8, 38.5787) projected
  line L37 (0, 101.8787) -> (-8, 93.8787) projected
  line L38 (8, 93.8787) -> (0, 101.8787) projected
  line L39 (8, 78.4713) -> (8, 93.8787) projected
  line L40 (0, 70.4713) -> (8, 78.4713) projected
  line L41 (-8, 78.4713) -> (0, 70.4713) projected
  line L42 (-8, 93.8787) -> (-8, 78.4713) projected
  line L43 (8, 26.8213) -> (8, 38.5787) projected
  line L44 (2.1213, 32.7) -> (8, 26.8213) projected
  line L45 (8, 38.5787) -> (2.1213, 32.7) projected
  line L46 (0, 88.2963) -> (6.7912, 95.0875)
  line L47 (-6.7912, 95.0875) -> (0, 88.2963)
  line L48 (-2.1213, 86.175) -> (-8, 92.0537)
  line L49 (-8, 80.2963) -> (-2.1213, 86.175)
  line L50 (8, 92.0537) -> (2.1213, 86.175)
  line L51 (2.1213, 86.175) -> (8, 80.2963)
  line L52 (0, 84.0537) -> (-6.7912, 77.2625)
  line L53 (6.7912, 77.2625) -> (0, 84.0537)
  line L54 (0, 101.8787) -> (0, 70.4713) construction
  line L55 (0, 66.2287) -> (-8, 58.2287) construction
  line L56 (0, 66.2287) -> (0, 34.8213) construction
  line L57 (0, 30.5787) -> (-8, 22.5787) construction
  line L58 (0, 52.6463) -> (6.7912, 59.4375)
  line L59 (-6.7912, 59.4375) -> (0, 52.6463)
  line L60 (0, 48.4037) -> (-6.7912, 41.6125)
  line L61 (6.7912, 41.6125) -> (0, 48.4037)
  line L62 (-8, 44.6463) -> (-2.1213, 50.525)
  line L63 (2.1213, 50.525) -> (8, 44.6463)
  line L64 (8, 56.4037) -> (2.1213, 50.525)
  line L65 (-2.1213, 50.525) -> (-8, 56.4037)
  line L66 (11, 21.7) -> (-11, 21.7) construction
  line L67 (11, 24.7) -> (-11, 24.7)
  line L68 (-11, 18.7) -> (11, 18.7)
  arc A12 (11, 18.7) -> (11, 24.7) centre (11, 21.7) ccw
  arc A13 (-11, 24.7) -> (-11, 18.7) centre (-11, 21.7) ccw
  line L69 (2.1299, 10.558) -> (8.0086, 4.6793)
  line L70 (8.0086, 16.4367) -> (2.1299, 10.558)
  line L71 (0, 12.6793) -> (6.0207, 18.7)
  line L72 (-8, 4.6793) -> (-2.1213, 10.558)
  line L73 (-6.0207, 18.7) -> (0, 12.6793)
  line L74 (-2.1213, 10.558) -> (-8, 16.4367)
  line L75 (2.1256, -5.2783) -> (8.0086, -11.1613)
  line L76 (8.0086, 0.6047) -> (2.1256, -5.2783)
  line L77 (-8, -11.1527) -> (-2.1213, -5.274)
  line L78 (-2.1213, -5.274) -> (-8, 0.6047)
  line L79 (2.1299, -21.106) -> (8.0086, -26.9847)
  line L80 (8, -31.2273) -> (0, -23.2273)
  line L81 (8.0086, -15.2273) -> (2.1299, -21.106)
  line L82 (0, -23.2273) -> (-8, -31.2273)
  line L83 (-8, -26.9847) -> (-2.1213, -21.106)
  line L84 (-5.7947, -13.19) -> (0, -18.9847)
  line L85 (-2.1213, -21.106) -> (-8, -15.2273)
  line L86 (0, -3.1527) -> (5.7947, 2.642)
  line L87 (5.7947, 2.642) -> (0, 8.4367)
  line L88 (-5.7947, 2.642) -> (0, -3.1527)
  line L89 (0, 8.4367) -> (-5.7947, 2.642)
  line L90 (0, -7.3953) -> (-5.7947, -13.19)
  line L91 (0, -18.9847) -> (5.7947, -13.19)
  line L92 (5.7947, -13.19) -> (0, -7.3953)
  point P0 (0, 0)
  point P1 (0, 86.175)
  point P2 (0, 86.175)
  point P3 (0, 50.525)
  point P4 (0, 50.525)
  point P5 (0, 21.7)
  point P6 (0, 10.558)
  point P7 (0, -5.274)
  point P8 (0, 18.7)
  point P9 (0, 68.6463)
  point P10 (0, 32.8418)
  point P11 (0, -21.106)
  point P12 (0, 10.558)
  point P13 (0, -5.274)
  point P14 (0, -21.106)
  point P15 (5.8787, 24.7)
  point P16 (-5.8787, 24.7)
  point P17 (-4.7727, -28)
  point P18 (4.7727, -28)
  dimension "d29" = 15.832
  dimension "d30" = 11.142
  dimension "d31" = 15.832
extrude "Wyciągnięcie proste5" add sketch "Szkic4" against normal up to surface (2 mm away) contours L68 L12 L13 L67 L14 L15 A11 L10 | L10 L70 L69 L76 L75 L81 L79 L11 L80 L82 L12 L83 L85 L77 L78 L72 L74 L68 L73 L71 | L61 L60 L29 L30 L62 L65 L31 L59 L58 L32 L33 L64 L63 L28 | L47 L46 L38 L39 L50 L51 L40 L53 L52 L41 L42 L49 L48 L37
fillet "Zaokrąglenie1" radius 100 2 edges at (-13.9914, -28, 1) (14, -28, 1)
properties part number "lacznik"
